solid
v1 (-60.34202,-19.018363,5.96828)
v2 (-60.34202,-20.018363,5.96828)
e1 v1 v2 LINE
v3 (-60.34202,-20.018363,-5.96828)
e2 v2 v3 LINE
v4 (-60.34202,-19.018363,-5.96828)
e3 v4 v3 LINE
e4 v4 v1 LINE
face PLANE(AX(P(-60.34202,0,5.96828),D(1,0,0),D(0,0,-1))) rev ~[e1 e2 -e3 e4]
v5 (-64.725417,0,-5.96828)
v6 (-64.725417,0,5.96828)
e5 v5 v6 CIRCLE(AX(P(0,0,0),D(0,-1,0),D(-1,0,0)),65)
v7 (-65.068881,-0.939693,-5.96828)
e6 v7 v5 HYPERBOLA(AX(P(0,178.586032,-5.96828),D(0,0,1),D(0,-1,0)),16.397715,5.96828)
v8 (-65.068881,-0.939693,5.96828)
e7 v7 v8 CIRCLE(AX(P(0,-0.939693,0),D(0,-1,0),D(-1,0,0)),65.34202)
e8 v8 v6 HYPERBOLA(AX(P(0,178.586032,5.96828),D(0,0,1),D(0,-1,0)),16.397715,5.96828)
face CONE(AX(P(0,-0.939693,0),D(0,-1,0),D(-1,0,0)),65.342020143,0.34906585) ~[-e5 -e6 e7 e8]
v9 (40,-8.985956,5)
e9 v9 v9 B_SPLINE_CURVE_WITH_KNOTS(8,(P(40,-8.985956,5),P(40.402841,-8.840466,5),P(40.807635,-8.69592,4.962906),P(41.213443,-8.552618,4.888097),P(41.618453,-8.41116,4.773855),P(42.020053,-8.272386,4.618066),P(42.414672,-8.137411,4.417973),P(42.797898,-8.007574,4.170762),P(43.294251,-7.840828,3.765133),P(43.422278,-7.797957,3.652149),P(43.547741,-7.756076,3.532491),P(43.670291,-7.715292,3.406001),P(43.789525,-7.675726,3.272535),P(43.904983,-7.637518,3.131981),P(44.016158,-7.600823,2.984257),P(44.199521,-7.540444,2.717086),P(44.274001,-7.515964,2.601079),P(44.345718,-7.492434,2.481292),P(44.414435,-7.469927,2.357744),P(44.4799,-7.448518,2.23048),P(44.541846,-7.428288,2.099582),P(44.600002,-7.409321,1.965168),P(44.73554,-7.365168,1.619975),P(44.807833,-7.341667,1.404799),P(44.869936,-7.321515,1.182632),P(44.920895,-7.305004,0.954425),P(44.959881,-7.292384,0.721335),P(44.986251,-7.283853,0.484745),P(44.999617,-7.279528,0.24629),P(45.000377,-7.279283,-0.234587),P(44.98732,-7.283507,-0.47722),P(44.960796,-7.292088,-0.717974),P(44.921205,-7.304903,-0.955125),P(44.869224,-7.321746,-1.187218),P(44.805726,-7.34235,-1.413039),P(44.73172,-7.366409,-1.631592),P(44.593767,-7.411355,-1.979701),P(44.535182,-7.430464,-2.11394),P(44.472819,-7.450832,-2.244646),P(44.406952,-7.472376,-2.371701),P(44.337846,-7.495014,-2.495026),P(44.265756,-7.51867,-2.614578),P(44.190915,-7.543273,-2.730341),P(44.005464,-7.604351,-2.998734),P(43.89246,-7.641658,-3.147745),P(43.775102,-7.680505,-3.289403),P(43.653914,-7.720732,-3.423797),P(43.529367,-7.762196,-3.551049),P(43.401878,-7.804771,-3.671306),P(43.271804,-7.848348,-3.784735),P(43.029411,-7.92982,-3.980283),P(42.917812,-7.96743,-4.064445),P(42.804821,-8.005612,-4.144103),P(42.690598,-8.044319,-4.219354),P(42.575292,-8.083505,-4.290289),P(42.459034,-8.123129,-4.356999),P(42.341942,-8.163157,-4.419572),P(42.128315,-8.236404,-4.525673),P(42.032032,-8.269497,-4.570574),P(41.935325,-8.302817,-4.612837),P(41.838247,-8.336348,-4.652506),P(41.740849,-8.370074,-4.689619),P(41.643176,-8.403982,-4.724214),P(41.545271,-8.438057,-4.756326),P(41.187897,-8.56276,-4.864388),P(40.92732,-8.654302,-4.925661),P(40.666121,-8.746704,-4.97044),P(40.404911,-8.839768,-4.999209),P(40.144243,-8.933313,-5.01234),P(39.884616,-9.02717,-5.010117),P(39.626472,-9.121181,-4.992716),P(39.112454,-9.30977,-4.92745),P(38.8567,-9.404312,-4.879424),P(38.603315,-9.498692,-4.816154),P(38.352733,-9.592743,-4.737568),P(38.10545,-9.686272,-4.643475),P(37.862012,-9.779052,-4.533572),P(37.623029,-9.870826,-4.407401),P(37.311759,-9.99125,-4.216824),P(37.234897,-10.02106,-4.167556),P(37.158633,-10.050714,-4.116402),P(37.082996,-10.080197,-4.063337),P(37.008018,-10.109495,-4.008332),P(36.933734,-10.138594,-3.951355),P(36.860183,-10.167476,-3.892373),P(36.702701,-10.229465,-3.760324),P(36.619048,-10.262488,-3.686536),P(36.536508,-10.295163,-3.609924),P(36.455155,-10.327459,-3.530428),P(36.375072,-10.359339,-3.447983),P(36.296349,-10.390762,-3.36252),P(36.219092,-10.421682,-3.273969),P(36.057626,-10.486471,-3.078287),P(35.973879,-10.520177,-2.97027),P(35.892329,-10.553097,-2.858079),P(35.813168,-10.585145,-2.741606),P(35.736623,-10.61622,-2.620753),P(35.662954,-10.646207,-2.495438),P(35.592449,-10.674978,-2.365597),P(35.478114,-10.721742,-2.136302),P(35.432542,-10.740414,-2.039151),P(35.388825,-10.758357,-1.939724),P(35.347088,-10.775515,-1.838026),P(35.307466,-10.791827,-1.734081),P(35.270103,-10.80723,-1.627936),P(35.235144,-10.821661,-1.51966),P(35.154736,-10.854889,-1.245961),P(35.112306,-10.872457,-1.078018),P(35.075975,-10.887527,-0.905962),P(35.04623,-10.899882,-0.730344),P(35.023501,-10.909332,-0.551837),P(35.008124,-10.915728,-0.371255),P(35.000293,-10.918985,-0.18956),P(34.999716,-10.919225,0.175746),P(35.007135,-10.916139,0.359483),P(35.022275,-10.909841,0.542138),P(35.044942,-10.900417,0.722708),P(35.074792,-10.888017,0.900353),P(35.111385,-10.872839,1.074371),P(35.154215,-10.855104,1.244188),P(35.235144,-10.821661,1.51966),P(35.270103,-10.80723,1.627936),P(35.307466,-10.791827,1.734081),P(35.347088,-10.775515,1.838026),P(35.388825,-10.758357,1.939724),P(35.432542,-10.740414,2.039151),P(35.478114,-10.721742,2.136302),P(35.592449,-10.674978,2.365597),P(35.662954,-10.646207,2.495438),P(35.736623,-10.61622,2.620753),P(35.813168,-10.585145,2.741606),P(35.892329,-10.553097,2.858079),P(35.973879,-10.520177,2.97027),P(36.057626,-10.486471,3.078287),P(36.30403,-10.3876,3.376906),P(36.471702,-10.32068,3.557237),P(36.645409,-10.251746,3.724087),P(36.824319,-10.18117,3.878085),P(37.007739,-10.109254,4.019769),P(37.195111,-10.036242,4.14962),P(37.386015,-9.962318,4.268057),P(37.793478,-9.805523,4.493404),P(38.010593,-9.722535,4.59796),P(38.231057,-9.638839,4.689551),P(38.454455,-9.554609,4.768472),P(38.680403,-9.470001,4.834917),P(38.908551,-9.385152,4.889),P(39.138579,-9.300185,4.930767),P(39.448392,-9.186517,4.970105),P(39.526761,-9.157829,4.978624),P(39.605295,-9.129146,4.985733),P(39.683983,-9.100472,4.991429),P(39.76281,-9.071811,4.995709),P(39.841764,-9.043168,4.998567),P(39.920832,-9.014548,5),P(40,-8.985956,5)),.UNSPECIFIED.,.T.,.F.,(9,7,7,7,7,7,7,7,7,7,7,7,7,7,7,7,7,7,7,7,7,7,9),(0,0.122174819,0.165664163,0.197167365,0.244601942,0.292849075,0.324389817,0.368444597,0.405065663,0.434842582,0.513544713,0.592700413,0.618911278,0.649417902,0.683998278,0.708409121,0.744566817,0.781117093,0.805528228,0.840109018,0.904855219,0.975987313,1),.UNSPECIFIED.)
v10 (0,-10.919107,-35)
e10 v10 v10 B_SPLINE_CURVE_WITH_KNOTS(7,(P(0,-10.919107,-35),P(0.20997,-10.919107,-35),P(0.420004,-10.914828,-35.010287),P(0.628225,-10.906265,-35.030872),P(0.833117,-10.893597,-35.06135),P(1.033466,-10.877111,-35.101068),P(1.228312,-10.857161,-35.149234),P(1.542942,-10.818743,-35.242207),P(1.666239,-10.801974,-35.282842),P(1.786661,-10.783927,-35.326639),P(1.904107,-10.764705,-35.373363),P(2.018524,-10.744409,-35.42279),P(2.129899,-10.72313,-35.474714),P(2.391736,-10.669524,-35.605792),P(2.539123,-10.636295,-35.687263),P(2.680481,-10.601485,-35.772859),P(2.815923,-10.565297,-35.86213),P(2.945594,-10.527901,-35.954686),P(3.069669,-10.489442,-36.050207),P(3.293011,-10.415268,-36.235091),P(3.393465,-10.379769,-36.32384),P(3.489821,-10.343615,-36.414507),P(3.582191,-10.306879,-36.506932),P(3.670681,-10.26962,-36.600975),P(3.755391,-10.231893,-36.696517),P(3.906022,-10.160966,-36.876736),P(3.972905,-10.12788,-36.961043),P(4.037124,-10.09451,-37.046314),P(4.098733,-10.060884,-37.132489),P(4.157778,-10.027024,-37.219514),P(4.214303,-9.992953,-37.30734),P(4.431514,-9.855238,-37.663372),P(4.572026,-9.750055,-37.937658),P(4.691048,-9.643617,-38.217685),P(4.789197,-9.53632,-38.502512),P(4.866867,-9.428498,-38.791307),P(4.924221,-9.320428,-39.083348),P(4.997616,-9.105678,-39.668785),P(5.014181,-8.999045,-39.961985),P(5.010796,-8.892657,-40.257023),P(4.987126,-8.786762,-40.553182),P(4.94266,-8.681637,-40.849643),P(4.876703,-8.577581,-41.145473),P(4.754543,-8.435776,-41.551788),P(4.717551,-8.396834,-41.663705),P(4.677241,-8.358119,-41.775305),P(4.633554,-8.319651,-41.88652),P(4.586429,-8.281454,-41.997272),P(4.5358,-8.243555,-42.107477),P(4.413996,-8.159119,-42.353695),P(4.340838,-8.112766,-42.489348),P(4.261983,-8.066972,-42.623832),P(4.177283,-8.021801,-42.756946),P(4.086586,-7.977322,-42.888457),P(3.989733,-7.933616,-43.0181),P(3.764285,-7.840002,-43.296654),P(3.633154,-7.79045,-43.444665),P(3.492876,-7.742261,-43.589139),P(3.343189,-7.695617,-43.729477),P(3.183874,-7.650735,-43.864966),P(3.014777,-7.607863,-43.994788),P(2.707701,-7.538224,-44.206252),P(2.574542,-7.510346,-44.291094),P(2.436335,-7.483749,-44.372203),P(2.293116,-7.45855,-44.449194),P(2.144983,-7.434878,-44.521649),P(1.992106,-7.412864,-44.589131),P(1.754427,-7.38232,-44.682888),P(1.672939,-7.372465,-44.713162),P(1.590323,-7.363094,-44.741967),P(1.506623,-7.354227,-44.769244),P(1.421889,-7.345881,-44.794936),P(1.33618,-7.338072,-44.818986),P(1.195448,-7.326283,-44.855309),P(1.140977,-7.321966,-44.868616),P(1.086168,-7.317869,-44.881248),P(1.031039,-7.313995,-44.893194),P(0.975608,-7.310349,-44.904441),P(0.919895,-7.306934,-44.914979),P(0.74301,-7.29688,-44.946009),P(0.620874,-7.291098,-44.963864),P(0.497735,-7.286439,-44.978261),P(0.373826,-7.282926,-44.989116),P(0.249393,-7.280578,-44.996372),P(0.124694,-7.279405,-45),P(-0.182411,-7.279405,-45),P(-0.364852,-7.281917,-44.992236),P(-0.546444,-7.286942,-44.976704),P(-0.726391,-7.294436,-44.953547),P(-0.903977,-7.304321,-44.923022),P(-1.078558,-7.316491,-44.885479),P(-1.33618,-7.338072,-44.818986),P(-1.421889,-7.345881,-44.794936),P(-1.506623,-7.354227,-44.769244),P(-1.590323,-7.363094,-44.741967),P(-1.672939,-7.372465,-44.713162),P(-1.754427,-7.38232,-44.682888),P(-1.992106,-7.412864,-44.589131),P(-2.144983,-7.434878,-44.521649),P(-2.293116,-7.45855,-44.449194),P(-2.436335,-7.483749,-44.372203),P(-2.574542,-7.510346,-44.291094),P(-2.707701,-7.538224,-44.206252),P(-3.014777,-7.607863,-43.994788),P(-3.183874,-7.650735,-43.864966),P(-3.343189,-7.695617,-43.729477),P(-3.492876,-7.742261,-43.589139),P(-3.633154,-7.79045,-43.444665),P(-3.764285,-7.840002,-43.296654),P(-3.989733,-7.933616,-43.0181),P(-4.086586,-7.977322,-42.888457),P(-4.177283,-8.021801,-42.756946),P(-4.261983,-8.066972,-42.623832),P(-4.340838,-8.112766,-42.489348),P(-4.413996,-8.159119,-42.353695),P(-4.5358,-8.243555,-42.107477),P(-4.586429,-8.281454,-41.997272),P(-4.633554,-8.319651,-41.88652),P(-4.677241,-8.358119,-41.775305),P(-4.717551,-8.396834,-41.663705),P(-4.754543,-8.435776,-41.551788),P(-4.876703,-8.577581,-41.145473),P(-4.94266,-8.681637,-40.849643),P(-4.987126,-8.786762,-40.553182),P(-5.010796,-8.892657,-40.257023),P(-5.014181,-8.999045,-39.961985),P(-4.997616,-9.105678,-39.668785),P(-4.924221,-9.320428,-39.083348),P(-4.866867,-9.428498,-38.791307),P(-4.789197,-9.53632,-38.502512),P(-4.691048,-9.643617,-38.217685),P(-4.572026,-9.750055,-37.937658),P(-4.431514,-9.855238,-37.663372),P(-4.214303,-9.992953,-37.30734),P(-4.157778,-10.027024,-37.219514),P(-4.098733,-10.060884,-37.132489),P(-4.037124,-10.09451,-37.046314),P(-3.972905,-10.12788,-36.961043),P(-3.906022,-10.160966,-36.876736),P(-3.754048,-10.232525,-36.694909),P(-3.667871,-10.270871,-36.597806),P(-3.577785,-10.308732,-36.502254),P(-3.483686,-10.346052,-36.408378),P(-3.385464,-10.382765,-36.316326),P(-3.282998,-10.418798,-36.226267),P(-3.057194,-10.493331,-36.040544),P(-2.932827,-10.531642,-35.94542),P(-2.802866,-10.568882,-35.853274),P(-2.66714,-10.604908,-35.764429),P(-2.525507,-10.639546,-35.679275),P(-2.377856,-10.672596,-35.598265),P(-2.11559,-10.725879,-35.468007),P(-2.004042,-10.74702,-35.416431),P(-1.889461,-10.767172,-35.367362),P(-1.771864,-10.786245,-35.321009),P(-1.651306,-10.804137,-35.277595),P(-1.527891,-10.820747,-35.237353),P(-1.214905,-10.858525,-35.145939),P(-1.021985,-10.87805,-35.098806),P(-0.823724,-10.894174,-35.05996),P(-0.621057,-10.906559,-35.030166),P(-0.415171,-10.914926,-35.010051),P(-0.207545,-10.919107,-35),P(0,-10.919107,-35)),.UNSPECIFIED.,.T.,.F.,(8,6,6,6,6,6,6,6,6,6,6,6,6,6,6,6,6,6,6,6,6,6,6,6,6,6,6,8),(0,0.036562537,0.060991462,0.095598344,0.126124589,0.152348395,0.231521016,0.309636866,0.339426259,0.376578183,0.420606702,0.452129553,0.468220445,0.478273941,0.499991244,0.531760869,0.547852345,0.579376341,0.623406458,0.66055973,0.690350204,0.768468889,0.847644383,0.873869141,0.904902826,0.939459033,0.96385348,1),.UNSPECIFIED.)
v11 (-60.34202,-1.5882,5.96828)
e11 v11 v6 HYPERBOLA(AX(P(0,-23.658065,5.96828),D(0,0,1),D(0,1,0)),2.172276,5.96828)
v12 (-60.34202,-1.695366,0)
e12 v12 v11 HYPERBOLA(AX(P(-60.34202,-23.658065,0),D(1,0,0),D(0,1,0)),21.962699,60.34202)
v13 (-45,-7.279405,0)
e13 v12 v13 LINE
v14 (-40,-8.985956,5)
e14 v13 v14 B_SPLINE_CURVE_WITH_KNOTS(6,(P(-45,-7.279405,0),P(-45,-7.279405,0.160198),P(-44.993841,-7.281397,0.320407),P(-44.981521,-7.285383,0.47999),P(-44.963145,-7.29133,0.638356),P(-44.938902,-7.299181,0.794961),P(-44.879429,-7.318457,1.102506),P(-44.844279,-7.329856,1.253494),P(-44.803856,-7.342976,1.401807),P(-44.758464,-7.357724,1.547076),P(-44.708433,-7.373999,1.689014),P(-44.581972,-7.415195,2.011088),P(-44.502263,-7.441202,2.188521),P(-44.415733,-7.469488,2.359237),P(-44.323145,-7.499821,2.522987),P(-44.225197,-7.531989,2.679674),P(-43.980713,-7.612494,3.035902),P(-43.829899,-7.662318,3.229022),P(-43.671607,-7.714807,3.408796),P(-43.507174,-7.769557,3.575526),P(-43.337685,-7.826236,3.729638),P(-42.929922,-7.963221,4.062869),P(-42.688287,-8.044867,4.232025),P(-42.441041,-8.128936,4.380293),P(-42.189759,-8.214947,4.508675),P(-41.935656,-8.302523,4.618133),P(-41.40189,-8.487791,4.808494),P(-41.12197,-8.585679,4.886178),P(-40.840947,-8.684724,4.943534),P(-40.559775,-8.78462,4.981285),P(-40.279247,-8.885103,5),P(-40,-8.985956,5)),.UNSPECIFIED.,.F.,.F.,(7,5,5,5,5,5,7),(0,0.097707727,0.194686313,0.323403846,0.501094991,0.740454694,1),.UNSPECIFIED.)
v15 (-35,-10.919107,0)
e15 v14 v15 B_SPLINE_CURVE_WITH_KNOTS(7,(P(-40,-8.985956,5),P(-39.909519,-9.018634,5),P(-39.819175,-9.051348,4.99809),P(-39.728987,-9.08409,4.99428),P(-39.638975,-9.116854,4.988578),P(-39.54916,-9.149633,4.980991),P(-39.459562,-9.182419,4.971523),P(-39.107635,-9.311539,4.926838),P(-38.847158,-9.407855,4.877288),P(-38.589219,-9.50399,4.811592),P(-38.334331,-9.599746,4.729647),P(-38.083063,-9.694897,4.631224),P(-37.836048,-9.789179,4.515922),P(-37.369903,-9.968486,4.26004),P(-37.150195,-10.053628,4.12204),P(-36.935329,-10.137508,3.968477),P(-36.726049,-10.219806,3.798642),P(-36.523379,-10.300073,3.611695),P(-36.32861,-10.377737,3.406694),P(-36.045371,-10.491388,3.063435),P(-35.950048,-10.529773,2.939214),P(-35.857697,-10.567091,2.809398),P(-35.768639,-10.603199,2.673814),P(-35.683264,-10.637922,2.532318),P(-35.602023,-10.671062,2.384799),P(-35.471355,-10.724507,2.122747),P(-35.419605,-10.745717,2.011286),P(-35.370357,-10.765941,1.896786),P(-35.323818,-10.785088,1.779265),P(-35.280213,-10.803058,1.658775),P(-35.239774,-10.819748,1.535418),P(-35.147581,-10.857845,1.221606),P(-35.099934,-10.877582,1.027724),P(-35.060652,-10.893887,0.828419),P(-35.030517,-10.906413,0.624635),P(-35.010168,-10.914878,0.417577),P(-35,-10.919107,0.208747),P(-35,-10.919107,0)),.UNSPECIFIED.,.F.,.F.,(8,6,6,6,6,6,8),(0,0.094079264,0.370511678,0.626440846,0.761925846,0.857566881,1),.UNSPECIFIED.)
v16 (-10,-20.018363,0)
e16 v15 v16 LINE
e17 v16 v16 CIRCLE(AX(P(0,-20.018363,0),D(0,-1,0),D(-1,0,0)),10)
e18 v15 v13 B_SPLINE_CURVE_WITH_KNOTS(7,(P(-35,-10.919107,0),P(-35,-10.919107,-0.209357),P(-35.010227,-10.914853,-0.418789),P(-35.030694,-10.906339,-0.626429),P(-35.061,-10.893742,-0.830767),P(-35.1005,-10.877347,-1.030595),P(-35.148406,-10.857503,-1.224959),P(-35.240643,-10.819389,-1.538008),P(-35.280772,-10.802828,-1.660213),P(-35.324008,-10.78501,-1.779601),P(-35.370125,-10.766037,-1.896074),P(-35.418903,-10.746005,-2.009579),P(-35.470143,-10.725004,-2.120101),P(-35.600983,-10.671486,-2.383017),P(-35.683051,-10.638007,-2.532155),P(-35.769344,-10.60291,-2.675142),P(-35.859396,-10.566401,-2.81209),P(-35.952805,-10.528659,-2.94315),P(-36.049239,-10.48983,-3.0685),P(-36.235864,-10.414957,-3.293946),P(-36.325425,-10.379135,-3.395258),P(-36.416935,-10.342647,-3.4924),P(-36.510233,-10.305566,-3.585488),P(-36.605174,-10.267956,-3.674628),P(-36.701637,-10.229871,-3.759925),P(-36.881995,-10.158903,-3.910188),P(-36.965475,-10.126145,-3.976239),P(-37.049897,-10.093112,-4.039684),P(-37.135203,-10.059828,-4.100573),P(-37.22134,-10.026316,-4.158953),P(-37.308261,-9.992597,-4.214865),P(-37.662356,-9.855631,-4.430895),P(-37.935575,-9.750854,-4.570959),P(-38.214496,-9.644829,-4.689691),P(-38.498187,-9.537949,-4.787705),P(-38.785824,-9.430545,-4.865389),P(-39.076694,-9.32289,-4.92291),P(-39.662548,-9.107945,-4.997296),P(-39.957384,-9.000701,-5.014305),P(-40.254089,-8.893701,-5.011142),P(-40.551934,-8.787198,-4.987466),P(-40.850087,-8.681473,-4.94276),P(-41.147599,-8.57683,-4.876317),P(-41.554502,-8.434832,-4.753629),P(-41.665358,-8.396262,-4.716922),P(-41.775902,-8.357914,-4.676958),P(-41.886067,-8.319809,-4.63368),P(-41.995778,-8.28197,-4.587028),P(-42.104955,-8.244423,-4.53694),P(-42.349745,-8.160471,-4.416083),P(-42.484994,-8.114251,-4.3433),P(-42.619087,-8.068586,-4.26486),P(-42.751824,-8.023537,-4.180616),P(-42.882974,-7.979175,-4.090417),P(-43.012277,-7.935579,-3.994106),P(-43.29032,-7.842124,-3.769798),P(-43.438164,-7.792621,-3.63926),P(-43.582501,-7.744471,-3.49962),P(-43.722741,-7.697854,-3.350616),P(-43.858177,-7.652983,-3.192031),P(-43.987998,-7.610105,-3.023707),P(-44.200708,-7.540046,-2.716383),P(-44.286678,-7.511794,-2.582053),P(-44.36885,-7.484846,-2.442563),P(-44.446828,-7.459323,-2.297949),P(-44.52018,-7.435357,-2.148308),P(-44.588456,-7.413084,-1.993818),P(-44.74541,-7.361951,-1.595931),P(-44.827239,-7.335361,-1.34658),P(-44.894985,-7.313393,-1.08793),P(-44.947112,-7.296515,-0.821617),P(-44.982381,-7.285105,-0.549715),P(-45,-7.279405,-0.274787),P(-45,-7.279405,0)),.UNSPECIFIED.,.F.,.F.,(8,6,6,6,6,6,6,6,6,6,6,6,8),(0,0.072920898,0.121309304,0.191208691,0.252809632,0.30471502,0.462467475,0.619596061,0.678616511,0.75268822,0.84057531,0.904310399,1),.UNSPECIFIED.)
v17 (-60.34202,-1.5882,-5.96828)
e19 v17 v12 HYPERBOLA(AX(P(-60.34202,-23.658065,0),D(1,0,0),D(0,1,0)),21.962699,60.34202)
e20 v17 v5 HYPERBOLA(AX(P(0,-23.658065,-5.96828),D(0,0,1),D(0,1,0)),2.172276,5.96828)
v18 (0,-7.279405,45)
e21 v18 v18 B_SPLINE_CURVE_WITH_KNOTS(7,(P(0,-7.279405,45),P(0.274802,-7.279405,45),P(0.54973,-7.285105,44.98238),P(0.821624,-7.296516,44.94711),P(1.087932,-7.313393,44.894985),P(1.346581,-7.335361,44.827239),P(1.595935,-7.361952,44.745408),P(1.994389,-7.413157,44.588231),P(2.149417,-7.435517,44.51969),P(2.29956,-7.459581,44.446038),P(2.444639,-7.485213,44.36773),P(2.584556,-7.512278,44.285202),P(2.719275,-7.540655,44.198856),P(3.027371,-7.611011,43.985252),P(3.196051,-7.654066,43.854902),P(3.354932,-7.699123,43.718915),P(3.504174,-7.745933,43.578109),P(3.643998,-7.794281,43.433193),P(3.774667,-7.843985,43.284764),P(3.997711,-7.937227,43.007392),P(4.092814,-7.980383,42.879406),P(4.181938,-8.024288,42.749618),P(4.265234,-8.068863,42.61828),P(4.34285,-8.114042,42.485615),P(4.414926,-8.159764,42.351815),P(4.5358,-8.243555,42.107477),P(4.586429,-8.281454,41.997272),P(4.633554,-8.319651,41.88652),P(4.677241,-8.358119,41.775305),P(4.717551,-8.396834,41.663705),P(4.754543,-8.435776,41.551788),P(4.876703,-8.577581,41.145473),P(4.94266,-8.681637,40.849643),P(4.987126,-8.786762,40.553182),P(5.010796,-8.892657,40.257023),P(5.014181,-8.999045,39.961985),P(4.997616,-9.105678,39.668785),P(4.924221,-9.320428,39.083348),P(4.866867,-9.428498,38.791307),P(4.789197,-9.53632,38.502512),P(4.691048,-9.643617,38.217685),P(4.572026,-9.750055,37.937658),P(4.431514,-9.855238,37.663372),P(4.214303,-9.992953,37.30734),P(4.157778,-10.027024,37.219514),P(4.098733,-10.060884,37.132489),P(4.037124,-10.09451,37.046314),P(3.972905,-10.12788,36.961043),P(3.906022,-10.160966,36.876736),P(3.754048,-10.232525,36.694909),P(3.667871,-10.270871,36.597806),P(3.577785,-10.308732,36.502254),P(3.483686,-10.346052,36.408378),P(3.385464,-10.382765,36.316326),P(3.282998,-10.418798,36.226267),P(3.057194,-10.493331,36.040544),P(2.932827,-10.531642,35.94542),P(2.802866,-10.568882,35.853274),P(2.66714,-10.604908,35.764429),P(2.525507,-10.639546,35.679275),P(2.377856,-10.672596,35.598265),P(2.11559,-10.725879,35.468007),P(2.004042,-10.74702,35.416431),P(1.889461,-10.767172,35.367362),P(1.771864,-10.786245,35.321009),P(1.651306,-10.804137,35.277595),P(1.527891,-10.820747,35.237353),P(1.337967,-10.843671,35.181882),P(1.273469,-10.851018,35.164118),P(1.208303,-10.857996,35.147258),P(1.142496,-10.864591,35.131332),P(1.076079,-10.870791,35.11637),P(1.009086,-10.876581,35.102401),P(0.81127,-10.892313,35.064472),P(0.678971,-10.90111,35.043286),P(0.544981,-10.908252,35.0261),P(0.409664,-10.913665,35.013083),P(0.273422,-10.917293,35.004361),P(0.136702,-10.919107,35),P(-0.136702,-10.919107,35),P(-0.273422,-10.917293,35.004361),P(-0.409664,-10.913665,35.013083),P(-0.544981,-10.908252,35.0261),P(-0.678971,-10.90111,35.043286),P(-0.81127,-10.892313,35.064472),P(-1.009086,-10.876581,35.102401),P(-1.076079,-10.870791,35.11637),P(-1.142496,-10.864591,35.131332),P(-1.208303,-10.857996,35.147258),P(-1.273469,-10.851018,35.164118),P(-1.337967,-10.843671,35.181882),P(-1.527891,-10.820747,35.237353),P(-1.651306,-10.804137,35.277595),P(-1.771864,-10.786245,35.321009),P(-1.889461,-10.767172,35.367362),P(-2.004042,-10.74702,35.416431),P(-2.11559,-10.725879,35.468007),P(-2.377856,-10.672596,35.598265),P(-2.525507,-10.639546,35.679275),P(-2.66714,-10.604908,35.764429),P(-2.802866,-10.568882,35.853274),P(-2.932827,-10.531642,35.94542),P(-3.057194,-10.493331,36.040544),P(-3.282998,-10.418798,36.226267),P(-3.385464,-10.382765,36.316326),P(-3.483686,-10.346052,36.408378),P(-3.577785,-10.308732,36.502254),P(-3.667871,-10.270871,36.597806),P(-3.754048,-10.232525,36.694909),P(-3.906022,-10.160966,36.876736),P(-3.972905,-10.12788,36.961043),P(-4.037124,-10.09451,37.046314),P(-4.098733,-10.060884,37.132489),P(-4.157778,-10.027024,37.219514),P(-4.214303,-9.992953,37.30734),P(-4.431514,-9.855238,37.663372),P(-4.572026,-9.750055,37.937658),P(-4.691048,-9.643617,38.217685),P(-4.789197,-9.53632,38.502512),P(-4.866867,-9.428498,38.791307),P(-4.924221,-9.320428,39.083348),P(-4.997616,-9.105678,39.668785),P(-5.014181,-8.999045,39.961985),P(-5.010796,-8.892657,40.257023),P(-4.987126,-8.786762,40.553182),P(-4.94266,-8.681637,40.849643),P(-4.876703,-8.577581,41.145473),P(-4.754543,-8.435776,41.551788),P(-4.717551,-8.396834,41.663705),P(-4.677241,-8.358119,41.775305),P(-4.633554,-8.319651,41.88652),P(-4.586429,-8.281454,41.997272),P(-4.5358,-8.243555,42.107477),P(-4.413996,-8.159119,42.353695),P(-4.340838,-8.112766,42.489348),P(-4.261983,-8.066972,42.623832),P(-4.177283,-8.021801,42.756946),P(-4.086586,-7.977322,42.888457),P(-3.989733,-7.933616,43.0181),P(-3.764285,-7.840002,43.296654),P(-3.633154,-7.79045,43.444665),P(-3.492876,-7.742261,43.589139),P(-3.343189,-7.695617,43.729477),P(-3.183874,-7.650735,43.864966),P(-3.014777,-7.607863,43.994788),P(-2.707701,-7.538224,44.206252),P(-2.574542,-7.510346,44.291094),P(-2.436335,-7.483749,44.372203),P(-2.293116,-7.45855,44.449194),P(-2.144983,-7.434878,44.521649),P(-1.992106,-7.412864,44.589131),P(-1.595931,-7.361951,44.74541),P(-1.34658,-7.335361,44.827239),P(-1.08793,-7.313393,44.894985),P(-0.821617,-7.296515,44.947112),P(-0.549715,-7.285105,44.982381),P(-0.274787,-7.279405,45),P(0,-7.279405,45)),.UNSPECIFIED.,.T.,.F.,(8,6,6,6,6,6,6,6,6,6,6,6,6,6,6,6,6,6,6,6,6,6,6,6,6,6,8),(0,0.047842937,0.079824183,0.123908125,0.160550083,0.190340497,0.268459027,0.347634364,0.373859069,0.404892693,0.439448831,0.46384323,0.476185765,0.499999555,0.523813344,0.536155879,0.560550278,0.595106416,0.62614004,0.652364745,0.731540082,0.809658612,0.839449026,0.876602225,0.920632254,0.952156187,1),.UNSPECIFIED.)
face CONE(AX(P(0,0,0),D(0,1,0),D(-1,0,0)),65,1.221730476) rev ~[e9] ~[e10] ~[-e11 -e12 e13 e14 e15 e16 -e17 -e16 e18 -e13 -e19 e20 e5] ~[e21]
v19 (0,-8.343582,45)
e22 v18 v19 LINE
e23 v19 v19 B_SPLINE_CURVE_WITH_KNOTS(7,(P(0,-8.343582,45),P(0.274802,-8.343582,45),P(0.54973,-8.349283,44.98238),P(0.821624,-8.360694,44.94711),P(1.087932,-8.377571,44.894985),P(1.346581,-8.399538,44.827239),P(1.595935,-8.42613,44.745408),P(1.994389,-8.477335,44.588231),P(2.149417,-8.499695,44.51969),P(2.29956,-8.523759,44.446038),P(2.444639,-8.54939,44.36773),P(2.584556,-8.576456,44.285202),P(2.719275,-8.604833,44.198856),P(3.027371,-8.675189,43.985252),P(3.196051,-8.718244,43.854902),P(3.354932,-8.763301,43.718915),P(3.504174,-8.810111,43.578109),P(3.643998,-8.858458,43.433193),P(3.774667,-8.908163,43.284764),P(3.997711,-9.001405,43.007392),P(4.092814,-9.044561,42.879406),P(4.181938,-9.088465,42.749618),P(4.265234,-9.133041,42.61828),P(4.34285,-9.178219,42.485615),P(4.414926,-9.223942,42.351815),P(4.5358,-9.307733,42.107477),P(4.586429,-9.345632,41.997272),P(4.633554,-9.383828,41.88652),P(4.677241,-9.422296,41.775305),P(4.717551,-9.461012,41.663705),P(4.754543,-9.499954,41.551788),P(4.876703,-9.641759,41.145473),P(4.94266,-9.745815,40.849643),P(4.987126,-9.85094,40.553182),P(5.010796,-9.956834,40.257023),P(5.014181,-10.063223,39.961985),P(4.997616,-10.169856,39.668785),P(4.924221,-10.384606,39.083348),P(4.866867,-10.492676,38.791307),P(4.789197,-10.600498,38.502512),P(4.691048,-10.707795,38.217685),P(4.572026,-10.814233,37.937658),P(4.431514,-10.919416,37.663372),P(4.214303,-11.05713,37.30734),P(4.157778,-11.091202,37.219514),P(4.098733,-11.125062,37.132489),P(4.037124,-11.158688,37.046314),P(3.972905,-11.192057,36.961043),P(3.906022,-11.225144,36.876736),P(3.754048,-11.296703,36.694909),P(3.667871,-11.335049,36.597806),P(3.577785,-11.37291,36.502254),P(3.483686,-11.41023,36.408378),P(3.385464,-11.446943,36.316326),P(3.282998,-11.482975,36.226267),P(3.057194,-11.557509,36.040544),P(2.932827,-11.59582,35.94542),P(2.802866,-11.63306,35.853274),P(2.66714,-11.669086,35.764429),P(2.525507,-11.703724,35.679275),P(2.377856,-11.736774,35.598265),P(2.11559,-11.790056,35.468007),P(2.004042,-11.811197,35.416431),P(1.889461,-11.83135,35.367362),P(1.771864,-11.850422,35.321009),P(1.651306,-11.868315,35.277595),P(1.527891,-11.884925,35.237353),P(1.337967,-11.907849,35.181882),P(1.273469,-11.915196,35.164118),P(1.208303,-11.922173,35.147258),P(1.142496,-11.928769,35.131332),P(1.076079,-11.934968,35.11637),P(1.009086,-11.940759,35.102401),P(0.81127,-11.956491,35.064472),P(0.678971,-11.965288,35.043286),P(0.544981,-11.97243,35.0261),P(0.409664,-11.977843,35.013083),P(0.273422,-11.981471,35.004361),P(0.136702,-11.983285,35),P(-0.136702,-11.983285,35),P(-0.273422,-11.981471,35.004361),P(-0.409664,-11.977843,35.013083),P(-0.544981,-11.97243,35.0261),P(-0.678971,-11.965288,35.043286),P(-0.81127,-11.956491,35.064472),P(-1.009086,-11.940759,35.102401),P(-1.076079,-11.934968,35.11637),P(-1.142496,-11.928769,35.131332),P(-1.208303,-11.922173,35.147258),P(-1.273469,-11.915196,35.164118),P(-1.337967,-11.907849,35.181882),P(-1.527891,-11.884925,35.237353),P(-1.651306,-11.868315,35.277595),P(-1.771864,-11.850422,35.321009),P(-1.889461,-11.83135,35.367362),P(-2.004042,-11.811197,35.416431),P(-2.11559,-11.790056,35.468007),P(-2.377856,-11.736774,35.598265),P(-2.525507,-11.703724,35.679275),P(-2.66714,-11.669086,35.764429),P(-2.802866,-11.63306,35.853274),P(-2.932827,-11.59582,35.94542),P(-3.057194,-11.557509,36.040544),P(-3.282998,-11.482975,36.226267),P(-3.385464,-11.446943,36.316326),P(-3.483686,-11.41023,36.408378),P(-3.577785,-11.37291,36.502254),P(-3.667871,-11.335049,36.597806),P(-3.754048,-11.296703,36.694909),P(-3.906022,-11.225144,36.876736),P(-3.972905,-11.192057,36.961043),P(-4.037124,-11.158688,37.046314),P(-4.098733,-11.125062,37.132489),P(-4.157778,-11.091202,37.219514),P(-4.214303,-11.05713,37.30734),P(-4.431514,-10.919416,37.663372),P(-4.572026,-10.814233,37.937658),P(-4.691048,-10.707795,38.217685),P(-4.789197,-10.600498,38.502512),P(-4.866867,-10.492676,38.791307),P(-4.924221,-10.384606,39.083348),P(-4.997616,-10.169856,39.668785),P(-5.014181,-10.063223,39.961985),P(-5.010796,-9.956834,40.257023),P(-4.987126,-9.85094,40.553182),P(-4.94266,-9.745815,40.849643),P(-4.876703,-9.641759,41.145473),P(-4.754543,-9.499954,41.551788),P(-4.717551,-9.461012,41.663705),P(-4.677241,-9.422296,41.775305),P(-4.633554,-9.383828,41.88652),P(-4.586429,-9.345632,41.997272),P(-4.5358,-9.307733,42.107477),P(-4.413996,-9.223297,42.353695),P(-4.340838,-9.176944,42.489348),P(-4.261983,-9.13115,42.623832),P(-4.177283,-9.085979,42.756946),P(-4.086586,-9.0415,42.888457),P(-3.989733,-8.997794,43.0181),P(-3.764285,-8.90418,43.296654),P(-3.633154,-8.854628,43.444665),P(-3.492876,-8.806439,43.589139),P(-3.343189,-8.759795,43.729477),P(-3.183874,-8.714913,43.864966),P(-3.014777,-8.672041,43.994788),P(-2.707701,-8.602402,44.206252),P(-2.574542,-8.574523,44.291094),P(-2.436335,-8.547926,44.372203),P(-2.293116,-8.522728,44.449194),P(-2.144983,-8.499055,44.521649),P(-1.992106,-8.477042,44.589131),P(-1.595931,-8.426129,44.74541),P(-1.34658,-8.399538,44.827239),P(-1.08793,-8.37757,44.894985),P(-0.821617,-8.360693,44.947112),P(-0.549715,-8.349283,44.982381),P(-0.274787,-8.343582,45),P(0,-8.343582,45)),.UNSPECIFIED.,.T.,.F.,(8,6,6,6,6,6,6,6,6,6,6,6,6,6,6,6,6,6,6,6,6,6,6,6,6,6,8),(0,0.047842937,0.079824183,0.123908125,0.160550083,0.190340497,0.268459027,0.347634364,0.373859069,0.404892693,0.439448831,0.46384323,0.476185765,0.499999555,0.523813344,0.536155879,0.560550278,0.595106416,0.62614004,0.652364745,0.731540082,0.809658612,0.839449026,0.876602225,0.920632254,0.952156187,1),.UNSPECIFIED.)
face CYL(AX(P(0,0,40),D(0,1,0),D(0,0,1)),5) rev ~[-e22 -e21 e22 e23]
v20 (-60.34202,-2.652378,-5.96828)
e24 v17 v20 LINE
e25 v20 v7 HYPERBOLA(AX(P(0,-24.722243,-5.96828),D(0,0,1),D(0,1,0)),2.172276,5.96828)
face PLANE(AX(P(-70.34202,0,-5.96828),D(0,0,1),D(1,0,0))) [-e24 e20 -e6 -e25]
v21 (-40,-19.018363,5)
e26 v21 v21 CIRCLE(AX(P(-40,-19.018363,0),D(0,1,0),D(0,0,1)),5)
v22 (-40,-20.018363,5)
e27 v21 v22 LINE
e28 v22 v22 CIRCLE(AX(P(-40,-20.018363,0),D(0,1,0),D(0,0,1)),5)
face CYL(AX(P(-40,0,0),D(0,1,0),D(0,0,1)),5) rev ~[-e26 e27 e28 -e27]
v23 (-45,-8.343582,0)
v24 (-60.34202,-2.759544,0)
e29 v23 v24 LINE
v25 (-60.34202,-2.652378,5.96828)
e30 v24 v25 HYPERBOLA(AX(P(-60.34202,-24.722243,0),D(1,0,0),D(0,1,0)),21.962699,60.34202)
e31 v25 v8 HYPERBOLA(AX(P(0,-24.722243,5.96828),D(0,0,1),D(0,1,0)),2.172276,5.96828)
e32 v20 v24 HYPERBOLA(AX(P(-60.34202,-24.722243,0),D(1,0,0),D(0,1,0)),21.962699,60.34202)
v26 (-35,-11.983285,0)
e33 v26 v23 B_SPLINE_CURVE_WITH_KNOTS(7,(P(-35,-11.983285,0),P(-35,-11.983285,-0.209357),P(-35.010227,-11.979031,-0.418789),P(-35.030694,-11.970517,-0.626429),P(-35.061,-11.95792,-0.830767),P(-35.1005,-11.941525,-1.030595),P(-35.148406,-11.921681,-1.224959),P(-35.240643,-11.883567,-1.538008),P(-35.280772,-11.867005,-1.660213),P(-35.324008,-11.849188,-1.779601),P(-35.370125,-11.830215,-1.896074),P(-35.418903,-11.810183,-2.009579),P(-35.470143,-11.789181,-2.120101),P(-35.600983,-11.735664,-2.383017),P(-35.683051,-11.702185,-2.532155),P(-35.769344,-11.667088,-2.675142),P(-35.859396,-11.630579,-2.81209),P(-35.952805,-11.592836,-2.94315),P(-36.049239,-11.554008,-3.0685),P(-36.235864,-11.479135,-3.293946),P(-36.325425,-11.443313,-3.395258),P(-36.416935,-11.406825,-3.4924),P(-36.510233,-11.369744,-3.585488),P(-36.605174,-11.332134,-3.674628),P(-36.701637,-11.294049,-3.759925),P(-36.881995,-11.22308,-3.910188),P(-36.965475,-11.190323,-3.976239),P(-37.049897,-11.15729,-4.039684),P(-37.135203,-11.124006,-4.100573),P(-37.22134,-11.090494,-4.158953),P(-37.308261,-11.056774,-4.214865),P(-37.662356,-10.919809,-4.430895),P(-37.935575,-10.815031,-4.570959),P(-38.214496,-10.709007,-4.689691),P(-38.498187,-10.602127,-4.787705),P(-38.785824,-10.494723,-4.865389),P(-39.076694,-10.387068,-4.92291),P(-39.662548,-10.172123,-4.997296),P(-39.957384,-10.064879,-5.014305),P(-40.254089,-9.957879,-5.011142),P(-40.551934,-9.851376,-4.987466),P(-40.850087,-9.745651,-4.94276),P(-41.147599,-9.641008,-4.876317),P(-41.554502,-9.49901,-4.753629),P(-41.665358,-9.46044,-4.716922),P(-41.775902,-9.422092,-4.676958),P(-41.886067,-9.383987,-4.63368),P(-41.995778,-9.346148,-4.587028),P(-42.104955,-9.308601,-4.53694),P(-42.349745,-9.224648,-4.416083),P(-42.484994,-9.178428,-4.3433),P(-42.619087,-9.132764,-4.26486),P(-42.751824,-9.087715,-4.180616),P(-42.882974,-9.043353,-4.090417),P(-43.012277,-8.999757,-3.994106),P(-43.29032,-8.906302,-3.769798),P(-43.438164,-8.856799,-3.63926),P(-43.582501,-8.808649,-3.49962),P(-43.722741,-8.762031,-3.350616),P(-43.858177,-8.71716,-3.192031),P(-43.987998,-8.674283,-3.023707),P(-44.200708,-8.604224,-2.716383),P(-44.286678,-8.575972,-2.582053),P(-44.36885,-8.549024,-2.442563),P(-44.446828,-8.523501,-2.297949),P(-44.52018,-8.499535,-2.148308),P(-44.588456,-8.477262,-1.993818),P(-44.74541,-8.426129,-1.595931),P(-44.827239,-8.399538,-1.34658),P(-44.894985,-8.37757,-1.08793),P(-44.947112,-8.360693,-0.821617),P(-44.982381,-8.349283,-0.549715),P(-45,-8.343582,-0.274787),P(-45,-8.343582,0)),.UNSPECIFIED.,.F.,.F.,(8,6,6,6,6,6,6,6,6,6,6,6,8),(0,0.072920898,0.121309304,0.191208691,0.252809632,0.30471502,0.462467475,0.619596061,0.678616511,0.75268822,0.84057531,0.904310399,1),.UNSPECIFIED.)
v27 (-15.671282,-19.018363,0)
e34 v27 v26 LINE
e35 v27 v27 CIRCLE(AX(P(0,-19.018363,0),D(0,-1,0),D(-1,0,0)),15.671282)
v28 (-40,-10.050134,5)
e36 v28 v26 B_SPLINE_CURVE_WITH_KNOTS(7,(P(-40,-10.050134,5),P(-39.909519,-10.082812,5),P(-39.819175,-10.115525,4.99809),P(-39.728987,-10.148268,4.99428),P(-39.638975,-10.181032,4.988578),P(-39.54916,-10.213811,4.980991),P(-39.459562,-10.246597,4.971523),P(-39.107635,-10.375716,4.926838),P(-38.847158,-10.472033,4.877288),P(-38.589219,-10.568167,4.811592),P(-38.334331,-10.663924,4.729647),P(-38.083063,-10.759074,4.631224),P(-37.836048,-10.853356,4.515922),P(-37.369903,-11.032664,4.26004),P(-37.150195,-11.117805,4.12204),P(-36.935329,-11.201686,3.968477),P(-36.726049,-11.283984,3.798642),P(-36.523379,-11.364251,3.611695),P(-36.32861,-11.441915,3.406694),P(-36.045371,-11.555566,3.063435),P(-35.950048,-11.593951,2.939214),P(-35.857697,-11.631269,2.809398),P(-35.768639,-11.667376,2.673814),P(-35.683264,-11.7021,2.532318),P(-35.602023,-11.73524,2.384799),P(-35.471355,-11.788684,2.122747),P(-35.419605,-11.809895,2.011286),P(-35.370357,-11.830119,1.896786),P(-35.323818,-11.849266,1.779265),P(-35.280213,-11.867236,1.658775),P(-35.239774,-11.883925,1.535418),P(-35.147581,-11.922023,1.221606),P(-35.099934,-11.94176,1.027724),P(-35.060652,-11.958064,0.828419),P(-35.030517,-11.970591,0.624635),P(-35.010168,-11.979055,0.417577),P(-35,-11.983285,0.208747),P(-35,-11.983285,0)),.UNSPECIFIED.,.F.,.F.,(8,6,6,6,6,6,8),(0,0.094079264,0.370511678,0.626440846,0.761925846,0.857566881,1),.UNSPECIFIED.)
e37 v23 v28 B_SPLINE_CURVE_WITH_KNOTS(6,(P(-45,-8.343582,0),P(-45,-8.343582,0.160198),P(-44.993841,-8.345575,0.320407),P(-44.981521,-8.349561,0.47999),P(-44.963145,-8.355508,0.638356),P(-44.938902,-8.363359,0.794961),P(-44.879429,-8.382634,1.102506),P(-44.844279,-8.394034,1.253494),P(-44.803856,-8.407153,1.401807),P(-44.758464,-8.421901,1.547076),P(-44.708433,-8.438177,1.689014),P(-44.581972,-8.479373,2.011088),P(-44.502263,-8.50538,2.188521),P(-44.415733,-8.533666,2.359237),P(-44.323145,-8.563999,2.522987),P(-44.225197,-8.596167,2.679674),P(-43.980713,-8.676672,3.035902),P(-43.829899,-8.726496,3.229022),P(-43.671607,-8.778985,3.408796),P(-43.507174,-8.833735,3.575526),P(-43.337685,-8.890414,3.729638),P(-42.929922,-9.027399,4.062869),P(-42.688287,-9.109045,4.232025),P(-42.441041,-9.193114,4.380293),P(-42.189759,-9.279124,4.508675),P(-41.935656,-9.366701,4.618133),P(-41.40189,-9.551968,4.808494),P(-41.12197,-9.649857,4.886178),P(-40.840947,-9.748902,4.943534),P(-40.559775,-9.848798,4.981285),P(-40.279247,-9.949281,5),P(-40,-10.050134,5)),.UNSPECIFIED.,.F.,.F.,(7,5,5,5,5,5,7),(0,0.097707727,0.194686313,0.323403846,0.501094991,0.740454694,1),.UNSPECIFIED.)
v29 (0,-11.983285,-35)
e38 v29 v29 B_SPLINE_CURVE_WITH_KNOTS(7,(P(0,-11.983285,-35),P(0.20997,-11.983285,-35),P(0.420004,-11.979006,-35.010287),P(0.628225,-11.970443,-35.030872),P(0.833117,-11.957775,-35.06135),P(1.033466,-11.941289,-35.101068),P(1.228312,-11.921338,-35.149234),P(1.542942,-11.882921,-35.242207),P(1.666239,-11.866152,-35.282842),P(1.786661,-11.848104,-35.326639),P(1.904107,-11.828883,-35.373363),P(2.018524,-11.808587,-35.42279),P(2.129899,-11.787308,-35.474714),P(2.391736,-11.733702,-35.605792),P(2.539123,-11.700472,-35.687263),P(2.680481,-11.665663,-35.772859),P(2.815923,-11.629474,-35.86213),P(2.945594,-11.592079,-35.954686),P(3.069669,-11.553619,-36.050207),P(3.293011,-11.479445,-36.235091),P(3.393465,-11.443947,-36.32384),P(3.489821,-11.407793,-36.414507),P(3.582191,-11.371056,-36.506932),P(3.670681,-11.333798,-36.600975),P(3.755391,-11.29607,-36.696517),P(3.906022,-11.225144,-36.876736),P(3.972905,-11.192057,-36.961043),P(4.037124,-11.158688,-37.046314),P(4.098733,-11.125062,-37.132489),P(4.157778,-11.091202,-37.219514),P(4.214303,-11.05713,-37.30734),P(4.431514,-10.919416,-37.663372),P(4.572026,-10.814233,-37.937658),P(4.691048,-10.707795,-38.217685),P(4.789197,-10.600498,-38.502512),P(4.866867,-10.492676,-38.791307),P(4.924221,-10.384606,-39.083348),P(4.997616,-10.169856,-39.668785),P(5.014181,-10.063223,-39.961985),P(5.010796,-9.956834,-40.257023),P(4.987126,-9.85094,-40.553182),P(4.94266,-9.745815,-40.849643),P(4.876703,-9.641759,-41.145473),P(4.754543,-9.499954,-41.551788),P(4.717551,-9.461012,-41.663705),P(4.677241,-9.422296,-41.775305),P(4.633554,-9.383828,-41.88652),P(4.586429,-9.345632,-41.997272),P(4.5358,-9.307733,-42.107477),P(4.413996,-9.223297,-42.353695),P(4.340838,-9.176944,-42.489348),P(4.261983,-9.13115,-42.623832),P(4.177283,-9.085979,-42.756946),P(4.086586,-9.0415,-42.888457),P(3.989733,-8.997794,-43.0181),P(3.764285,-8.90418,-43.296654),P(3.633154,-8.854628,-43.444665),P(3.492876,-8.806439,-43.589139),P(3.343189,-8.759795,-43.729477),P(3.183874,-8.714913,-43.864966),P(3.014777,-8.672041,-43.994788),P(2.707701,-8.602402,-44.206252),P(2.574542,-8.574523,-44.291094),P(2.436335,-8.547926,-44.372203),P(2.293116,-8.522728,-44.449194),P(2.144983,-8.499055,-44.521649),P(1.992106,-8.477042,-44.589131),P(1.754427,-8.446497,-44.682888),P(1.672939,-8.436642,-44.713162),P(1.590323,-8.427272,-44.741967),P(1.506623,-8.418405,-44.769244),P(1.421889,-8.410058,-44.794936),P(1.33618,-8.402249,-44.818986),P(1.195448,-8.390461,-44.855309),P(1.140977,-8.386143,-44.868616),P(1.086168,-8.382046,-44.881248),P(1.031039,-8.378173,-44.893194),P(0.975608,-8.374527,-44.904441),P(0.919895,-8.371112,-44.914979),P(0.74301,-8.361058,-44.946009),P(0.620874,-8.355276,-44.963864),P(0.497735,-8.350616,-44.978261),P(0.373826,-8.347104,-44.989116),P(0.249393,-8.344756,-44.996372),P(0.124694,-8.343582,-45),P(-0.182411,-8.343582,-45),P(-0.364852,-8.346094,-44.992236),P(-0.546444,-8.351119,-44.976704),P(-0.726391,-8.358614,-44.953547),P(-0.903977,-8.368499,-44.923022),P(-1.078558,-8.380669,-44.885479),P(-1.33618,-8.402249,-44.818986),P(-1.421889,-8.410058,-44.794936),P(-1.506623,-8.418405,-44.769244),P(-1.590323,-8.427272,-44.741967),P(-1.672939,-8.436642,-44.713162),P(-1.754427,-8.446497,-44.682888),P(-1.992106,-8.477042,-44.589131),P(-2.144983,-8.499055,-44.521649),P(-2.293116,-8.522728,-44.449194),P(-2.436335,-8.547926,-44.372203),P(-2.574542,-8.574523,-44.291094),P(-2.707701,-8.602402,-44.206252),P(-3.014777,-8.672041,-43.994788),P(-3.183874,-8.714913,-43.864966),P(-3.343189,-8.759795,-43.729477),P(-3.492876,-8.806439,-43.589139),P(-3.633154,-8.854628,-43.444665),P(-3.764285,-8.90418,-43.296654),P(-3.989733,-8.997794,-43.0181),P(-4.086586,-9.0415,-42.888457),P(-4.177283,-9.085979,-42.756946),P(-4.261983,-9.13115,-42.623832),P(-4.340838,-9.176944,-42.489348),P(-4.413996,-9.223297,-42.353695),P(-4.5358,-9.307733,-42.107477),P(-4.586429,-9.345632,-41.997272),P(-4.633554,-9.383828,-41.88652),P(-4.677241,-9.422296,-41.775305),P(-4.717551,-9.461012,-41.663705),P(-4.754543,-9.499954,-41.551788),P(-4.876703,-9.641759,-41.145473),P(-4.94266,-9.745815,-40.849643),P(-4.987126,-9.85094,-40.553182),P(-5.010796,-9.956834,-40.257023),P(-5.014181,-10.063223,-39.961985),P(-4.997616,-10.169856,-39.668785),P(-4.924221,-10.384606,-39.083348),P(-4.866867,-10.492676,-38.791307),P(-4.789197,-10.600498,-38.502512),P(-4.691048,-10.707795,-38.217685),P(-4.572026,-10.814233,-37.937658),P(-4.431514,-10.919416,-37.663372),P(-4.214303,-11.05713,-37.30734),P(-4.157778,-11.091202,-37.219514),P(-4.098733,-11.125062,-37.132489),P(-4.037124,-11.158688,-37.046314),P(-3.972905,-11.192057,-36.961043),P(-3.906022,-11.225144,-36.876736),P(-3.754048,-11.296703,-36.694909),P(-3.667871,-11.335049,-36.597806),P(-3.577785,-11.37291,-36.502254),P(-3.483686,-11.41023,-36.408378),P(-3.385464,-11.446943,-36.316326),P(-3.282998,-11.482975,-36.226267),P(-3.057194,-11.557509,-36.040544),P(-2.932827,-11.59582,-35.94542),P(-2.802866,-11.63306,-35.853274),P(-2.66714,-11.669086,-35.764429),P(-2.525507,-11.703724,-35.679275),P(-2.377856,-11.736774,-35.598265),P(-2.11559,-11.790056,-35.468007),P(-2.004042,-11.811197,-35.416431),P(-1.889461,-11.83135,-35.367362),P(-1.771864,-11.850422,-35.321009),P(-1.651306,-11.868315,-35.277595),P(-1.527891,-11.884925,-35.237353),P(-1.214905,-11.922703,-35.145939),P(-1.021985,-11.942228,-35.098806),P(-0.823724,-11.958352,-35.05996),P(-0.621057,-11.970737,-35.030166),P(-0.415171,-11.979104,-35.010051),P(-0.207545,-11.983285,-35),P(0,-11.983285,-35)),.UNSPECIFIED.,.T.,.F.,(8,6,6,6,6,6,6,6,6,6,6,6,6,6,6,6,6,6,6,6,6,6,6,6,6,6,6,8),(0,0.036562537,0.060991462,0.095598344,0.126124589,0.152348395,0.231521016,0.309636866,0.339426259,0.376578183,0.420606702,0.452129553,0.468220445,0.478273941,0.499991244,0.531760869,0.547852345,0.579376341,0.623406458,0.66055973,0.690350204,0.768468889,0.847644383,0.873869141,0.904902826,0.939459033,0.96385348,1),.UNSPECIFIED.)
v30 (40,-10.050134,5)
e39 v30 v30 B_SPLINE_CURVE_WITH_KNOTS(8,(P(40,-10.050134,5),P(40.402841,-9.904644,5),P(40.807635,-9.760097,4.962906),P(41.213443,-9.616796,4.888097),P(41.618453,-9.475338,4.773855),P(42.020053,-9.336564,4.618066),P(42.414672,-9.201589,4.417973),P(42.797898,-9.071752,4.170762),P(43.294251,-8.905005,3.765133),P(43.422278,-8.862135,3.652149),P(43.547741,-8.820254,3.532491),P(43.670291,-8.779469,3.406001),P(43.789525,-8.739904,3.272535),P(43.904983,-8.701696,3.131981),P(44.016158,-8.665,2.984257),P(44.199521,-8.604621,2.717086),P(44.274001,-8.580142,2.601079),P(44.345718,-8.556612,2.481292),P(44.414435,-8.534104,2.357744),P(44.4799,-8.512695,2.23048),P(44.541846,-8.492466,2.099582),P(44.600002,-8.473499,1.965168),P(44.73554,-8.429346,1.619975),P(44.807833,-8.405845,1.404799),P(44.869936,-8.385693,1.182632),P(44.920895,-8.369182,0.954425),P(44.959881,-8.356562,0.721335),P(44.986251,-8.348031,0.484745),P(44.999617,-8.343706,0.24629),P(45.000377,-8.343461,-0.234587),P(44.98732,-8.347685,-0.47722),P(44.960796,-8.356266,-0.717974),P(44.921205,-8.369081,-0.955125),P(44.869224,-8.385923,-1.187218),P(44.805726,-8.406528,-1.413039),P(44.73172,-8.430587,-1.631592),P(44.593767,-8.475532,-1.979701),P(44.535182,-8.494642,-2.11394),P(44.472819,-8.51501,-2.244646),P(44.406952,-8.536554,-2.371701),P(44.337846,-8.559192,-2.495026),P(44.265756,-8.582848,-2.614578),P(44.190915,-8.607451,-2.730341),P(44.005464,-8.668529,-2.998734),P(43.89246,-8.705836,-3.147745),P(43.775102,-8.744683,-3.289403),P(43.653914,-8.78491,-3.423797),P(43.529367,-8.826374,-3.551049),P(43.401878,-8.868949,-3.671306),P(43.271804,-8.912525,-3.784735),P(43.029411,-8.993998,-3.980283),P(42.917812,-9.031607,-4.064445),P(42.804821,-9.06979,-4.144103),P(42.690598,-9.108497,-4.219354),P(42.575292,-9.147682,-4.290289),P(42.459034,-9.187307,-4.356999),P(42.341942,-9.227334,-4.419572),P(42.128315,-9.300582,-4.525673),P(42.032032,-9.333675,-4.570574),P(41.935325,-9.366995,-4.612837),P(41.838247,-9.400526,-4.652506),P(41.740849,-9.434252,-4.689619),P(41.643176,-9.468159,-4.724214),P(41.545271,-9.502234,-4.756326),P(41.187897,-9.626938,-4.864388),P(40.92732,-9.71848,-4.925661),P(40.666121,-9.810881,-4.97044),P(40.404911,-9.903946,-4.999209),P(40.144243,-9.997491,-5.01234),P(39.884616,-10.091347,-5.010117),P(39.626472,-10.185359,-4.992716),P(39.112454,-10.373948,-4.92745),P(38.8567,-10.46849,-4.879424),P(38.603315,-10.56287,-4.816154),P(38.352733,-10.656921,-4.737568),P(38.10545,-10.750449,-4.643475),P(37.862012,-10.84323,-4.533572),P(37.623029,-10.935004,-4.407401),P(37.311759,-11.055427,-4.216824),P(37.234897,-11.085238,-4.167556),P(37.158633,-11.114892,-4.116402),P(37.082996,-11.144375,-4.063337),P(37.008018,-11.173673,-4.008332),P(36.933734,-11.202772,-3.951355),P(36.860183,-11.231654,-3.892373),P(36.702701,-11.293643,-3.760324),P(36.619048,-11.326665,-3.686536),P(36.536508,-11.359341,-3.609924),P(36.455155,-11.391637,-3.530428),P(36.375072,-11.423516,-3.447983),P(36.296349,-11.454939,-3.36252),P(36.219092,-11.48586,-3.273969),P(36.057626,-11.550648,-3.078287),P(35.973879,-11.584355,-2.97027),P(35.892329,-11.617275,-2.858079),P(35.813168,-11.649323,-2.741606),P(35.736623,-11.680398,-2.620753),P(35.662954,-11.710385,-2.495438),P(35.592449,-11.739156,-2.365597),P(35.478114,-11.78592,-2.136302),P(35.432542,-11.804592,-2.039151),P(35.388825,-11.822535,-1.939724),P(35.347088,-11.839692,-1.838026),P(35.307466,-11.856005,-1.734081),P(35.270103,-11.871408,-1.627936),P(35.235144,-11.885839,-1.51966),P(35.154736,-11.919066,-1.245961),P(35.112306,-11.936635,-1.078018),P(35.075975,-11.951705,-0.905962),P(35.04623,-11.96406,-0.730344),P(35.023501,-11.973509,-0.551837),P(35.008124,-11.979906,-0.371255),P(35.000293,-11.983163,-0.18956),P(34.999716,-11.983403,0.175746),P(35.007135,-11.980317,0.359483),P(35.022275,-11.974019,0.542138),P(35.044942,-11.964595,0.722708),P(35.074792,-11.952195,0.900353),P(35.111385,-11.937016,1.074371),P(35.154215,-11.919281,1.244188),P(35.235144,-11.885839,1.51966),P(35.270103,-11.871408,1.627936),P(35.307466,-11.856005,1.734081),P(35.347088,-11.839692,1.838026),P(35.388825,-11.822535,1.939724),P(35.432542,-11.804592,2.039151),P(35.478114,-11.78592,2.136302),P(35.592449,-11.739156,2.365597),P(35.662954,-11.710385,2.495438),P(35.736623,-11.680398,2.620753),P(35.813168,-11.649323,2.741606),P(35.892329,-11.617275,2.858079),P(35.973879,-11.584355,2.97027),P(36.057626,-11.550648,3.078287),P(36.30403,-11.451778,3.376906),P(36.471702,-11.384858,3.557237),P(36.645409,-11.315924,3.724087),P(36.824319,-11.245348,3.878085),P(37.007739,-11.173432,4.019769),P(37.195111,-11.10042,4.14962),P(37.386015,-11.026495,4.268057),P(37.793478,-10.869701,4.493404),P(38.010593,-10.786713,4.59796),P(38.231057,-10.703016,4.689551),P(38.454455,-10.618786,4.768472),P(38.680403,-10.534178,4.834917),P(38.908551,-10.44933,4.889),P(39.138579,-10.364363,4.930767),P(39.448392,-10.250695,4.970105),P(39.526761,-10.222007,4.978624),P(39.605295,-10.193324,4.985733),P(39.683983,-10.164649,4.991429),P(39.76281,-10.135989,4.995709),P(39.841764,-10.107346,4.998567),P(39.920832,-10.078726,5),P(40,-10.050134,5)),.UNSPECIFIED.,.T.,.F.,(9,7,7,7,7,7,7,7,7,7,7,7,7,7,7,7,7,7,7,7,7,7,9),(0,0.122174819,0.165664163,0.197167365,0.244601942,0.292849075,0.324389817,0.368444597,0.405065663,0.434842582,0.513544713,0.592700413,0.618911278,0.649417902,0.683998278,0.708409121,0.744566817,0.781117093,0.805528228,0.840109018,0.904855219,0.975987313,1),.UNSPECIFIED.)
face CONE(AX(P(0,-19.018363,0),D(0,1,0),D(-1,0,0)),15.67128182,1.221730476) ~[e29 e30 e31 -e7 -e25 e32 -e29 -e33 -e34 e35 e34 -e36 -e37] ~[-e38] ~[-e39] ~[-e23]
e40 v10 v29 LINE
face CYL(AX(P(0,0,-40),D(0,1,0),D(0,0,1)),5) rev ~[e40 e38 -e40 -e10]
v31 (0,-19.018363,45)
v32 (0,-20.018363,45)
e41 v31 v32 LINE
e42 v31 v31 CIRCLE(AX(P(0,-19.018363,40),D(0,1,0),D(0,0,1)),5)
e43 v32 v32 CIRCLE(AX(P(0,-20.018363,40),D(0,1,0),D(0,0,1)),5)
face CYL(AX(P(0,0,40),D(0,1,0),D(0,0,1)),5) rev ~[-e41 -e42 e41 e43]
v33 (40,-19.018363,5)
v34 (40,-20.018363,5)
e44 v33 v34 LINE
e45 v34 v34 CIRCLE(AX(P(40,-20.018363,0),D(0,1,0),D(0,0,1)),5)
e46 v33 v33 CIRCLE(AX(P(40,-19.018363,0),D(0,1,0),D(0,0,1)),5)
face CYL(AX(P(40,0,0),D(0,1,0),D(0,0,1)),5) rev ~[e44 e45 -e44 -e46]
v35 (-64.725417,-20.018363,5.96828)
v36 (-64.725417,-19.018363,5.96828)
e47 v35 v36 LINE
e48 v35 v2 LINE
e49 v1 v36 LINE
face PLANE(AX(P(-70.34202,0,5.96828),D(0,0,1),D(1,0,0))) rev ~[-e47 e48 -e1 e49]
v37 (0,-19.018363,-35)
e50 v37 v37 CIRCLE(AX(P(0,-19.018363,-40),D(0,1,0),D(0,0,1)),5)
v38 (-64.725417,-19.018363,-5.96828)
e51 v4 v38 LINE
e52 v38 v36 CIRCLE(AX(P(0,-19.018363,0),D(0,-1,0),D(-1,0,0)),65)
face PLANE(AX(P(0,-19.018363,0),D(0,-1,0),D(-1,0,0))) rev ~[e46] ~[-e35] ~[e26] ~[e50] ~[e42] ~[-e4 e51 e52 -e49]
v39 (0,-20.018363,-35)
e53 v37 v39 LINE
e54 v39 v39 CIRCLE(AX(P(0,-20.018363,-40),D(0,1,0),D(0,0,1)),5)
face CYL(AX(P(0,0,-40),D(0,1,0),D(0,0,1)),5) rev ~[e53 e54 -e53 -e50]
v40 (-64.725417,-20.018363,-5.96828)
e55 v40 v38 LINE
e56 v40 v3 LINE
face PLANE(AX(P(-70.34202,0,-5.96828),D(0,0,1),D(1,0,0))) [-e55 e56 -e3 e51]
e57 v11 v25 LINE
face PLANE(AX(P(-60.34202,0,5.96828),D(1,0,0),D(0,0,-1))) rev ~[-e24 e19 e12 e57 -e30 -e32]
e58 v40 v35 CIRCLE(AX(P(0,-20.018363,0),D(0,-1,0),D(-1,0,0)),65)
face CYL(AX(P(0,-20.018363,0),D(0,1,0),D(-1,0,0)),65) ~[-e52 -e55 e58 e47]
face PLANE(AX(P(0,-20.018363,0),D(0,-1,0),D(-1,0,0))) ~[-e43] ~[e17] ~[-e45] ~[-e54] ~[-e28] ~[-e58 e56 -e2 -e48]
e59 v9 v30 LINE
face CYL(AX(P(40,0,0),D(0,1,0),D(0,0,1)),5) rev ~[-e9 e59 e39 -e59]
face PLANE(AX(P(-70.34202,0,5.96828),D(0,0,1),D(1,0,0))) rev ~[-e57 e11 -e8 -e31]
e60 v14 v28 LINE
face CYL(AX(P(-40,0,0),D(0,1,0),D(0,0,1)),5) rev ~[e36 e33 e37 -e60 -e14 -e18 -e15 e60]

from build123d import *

# Parameters (mm, degrees)
SKETCH2_R          = 5
SKETCH2_W          = 10
SKETCH2_H          = 11.93656
CUT_EXTRUDE1_DEPTH = 95.551012926


with BuildPart() as part:
    # Sketch1 → Revolve-Thin1 (revolve)
    with BuildSketch(Plane.XY):
        Polygon((-65, 0), (-10, -20.018362885), (-65, -20.018362885), (-65, -19.018362885), (-15.67128182, -19.018362885), (-65.342020143, -0.939692621), align=None)
    revolve(axis=Axis((0, 0, 0), (0, -1, 0)))

    # Sketch2 → Cut-Extrude1 (cut, through all)
    with BuildSketch(Plane(origin=(0, 0, 0), x_dir=(1, 0, 0), z_dir=(0, 1, 0))):
        with Locations(Location((-40, 0, 0), (0, 0, 270))):
            Circle(SKETCH2_R)
        with Locations(Location((0, 40, 0), (0, 0, 270))):
            Circle(SKETCH2_R)
        with Locations(Location((40, 0, 0), (0, 0, 270))):
            Circle(SKETCH2_R)
        with Locations(Location((0, -40, 0), (0, 0, 270))):
            Circle(SKETCH2_R)
        with Locations((-65.342020143, 0)):
            Rectangle(SKETCH2_W, SKETCH2_H)
    extrude(amount=-CUT_EXTRUDE1_DEPTH, mode=Mode.SUBTRACT)


solid = part.part
